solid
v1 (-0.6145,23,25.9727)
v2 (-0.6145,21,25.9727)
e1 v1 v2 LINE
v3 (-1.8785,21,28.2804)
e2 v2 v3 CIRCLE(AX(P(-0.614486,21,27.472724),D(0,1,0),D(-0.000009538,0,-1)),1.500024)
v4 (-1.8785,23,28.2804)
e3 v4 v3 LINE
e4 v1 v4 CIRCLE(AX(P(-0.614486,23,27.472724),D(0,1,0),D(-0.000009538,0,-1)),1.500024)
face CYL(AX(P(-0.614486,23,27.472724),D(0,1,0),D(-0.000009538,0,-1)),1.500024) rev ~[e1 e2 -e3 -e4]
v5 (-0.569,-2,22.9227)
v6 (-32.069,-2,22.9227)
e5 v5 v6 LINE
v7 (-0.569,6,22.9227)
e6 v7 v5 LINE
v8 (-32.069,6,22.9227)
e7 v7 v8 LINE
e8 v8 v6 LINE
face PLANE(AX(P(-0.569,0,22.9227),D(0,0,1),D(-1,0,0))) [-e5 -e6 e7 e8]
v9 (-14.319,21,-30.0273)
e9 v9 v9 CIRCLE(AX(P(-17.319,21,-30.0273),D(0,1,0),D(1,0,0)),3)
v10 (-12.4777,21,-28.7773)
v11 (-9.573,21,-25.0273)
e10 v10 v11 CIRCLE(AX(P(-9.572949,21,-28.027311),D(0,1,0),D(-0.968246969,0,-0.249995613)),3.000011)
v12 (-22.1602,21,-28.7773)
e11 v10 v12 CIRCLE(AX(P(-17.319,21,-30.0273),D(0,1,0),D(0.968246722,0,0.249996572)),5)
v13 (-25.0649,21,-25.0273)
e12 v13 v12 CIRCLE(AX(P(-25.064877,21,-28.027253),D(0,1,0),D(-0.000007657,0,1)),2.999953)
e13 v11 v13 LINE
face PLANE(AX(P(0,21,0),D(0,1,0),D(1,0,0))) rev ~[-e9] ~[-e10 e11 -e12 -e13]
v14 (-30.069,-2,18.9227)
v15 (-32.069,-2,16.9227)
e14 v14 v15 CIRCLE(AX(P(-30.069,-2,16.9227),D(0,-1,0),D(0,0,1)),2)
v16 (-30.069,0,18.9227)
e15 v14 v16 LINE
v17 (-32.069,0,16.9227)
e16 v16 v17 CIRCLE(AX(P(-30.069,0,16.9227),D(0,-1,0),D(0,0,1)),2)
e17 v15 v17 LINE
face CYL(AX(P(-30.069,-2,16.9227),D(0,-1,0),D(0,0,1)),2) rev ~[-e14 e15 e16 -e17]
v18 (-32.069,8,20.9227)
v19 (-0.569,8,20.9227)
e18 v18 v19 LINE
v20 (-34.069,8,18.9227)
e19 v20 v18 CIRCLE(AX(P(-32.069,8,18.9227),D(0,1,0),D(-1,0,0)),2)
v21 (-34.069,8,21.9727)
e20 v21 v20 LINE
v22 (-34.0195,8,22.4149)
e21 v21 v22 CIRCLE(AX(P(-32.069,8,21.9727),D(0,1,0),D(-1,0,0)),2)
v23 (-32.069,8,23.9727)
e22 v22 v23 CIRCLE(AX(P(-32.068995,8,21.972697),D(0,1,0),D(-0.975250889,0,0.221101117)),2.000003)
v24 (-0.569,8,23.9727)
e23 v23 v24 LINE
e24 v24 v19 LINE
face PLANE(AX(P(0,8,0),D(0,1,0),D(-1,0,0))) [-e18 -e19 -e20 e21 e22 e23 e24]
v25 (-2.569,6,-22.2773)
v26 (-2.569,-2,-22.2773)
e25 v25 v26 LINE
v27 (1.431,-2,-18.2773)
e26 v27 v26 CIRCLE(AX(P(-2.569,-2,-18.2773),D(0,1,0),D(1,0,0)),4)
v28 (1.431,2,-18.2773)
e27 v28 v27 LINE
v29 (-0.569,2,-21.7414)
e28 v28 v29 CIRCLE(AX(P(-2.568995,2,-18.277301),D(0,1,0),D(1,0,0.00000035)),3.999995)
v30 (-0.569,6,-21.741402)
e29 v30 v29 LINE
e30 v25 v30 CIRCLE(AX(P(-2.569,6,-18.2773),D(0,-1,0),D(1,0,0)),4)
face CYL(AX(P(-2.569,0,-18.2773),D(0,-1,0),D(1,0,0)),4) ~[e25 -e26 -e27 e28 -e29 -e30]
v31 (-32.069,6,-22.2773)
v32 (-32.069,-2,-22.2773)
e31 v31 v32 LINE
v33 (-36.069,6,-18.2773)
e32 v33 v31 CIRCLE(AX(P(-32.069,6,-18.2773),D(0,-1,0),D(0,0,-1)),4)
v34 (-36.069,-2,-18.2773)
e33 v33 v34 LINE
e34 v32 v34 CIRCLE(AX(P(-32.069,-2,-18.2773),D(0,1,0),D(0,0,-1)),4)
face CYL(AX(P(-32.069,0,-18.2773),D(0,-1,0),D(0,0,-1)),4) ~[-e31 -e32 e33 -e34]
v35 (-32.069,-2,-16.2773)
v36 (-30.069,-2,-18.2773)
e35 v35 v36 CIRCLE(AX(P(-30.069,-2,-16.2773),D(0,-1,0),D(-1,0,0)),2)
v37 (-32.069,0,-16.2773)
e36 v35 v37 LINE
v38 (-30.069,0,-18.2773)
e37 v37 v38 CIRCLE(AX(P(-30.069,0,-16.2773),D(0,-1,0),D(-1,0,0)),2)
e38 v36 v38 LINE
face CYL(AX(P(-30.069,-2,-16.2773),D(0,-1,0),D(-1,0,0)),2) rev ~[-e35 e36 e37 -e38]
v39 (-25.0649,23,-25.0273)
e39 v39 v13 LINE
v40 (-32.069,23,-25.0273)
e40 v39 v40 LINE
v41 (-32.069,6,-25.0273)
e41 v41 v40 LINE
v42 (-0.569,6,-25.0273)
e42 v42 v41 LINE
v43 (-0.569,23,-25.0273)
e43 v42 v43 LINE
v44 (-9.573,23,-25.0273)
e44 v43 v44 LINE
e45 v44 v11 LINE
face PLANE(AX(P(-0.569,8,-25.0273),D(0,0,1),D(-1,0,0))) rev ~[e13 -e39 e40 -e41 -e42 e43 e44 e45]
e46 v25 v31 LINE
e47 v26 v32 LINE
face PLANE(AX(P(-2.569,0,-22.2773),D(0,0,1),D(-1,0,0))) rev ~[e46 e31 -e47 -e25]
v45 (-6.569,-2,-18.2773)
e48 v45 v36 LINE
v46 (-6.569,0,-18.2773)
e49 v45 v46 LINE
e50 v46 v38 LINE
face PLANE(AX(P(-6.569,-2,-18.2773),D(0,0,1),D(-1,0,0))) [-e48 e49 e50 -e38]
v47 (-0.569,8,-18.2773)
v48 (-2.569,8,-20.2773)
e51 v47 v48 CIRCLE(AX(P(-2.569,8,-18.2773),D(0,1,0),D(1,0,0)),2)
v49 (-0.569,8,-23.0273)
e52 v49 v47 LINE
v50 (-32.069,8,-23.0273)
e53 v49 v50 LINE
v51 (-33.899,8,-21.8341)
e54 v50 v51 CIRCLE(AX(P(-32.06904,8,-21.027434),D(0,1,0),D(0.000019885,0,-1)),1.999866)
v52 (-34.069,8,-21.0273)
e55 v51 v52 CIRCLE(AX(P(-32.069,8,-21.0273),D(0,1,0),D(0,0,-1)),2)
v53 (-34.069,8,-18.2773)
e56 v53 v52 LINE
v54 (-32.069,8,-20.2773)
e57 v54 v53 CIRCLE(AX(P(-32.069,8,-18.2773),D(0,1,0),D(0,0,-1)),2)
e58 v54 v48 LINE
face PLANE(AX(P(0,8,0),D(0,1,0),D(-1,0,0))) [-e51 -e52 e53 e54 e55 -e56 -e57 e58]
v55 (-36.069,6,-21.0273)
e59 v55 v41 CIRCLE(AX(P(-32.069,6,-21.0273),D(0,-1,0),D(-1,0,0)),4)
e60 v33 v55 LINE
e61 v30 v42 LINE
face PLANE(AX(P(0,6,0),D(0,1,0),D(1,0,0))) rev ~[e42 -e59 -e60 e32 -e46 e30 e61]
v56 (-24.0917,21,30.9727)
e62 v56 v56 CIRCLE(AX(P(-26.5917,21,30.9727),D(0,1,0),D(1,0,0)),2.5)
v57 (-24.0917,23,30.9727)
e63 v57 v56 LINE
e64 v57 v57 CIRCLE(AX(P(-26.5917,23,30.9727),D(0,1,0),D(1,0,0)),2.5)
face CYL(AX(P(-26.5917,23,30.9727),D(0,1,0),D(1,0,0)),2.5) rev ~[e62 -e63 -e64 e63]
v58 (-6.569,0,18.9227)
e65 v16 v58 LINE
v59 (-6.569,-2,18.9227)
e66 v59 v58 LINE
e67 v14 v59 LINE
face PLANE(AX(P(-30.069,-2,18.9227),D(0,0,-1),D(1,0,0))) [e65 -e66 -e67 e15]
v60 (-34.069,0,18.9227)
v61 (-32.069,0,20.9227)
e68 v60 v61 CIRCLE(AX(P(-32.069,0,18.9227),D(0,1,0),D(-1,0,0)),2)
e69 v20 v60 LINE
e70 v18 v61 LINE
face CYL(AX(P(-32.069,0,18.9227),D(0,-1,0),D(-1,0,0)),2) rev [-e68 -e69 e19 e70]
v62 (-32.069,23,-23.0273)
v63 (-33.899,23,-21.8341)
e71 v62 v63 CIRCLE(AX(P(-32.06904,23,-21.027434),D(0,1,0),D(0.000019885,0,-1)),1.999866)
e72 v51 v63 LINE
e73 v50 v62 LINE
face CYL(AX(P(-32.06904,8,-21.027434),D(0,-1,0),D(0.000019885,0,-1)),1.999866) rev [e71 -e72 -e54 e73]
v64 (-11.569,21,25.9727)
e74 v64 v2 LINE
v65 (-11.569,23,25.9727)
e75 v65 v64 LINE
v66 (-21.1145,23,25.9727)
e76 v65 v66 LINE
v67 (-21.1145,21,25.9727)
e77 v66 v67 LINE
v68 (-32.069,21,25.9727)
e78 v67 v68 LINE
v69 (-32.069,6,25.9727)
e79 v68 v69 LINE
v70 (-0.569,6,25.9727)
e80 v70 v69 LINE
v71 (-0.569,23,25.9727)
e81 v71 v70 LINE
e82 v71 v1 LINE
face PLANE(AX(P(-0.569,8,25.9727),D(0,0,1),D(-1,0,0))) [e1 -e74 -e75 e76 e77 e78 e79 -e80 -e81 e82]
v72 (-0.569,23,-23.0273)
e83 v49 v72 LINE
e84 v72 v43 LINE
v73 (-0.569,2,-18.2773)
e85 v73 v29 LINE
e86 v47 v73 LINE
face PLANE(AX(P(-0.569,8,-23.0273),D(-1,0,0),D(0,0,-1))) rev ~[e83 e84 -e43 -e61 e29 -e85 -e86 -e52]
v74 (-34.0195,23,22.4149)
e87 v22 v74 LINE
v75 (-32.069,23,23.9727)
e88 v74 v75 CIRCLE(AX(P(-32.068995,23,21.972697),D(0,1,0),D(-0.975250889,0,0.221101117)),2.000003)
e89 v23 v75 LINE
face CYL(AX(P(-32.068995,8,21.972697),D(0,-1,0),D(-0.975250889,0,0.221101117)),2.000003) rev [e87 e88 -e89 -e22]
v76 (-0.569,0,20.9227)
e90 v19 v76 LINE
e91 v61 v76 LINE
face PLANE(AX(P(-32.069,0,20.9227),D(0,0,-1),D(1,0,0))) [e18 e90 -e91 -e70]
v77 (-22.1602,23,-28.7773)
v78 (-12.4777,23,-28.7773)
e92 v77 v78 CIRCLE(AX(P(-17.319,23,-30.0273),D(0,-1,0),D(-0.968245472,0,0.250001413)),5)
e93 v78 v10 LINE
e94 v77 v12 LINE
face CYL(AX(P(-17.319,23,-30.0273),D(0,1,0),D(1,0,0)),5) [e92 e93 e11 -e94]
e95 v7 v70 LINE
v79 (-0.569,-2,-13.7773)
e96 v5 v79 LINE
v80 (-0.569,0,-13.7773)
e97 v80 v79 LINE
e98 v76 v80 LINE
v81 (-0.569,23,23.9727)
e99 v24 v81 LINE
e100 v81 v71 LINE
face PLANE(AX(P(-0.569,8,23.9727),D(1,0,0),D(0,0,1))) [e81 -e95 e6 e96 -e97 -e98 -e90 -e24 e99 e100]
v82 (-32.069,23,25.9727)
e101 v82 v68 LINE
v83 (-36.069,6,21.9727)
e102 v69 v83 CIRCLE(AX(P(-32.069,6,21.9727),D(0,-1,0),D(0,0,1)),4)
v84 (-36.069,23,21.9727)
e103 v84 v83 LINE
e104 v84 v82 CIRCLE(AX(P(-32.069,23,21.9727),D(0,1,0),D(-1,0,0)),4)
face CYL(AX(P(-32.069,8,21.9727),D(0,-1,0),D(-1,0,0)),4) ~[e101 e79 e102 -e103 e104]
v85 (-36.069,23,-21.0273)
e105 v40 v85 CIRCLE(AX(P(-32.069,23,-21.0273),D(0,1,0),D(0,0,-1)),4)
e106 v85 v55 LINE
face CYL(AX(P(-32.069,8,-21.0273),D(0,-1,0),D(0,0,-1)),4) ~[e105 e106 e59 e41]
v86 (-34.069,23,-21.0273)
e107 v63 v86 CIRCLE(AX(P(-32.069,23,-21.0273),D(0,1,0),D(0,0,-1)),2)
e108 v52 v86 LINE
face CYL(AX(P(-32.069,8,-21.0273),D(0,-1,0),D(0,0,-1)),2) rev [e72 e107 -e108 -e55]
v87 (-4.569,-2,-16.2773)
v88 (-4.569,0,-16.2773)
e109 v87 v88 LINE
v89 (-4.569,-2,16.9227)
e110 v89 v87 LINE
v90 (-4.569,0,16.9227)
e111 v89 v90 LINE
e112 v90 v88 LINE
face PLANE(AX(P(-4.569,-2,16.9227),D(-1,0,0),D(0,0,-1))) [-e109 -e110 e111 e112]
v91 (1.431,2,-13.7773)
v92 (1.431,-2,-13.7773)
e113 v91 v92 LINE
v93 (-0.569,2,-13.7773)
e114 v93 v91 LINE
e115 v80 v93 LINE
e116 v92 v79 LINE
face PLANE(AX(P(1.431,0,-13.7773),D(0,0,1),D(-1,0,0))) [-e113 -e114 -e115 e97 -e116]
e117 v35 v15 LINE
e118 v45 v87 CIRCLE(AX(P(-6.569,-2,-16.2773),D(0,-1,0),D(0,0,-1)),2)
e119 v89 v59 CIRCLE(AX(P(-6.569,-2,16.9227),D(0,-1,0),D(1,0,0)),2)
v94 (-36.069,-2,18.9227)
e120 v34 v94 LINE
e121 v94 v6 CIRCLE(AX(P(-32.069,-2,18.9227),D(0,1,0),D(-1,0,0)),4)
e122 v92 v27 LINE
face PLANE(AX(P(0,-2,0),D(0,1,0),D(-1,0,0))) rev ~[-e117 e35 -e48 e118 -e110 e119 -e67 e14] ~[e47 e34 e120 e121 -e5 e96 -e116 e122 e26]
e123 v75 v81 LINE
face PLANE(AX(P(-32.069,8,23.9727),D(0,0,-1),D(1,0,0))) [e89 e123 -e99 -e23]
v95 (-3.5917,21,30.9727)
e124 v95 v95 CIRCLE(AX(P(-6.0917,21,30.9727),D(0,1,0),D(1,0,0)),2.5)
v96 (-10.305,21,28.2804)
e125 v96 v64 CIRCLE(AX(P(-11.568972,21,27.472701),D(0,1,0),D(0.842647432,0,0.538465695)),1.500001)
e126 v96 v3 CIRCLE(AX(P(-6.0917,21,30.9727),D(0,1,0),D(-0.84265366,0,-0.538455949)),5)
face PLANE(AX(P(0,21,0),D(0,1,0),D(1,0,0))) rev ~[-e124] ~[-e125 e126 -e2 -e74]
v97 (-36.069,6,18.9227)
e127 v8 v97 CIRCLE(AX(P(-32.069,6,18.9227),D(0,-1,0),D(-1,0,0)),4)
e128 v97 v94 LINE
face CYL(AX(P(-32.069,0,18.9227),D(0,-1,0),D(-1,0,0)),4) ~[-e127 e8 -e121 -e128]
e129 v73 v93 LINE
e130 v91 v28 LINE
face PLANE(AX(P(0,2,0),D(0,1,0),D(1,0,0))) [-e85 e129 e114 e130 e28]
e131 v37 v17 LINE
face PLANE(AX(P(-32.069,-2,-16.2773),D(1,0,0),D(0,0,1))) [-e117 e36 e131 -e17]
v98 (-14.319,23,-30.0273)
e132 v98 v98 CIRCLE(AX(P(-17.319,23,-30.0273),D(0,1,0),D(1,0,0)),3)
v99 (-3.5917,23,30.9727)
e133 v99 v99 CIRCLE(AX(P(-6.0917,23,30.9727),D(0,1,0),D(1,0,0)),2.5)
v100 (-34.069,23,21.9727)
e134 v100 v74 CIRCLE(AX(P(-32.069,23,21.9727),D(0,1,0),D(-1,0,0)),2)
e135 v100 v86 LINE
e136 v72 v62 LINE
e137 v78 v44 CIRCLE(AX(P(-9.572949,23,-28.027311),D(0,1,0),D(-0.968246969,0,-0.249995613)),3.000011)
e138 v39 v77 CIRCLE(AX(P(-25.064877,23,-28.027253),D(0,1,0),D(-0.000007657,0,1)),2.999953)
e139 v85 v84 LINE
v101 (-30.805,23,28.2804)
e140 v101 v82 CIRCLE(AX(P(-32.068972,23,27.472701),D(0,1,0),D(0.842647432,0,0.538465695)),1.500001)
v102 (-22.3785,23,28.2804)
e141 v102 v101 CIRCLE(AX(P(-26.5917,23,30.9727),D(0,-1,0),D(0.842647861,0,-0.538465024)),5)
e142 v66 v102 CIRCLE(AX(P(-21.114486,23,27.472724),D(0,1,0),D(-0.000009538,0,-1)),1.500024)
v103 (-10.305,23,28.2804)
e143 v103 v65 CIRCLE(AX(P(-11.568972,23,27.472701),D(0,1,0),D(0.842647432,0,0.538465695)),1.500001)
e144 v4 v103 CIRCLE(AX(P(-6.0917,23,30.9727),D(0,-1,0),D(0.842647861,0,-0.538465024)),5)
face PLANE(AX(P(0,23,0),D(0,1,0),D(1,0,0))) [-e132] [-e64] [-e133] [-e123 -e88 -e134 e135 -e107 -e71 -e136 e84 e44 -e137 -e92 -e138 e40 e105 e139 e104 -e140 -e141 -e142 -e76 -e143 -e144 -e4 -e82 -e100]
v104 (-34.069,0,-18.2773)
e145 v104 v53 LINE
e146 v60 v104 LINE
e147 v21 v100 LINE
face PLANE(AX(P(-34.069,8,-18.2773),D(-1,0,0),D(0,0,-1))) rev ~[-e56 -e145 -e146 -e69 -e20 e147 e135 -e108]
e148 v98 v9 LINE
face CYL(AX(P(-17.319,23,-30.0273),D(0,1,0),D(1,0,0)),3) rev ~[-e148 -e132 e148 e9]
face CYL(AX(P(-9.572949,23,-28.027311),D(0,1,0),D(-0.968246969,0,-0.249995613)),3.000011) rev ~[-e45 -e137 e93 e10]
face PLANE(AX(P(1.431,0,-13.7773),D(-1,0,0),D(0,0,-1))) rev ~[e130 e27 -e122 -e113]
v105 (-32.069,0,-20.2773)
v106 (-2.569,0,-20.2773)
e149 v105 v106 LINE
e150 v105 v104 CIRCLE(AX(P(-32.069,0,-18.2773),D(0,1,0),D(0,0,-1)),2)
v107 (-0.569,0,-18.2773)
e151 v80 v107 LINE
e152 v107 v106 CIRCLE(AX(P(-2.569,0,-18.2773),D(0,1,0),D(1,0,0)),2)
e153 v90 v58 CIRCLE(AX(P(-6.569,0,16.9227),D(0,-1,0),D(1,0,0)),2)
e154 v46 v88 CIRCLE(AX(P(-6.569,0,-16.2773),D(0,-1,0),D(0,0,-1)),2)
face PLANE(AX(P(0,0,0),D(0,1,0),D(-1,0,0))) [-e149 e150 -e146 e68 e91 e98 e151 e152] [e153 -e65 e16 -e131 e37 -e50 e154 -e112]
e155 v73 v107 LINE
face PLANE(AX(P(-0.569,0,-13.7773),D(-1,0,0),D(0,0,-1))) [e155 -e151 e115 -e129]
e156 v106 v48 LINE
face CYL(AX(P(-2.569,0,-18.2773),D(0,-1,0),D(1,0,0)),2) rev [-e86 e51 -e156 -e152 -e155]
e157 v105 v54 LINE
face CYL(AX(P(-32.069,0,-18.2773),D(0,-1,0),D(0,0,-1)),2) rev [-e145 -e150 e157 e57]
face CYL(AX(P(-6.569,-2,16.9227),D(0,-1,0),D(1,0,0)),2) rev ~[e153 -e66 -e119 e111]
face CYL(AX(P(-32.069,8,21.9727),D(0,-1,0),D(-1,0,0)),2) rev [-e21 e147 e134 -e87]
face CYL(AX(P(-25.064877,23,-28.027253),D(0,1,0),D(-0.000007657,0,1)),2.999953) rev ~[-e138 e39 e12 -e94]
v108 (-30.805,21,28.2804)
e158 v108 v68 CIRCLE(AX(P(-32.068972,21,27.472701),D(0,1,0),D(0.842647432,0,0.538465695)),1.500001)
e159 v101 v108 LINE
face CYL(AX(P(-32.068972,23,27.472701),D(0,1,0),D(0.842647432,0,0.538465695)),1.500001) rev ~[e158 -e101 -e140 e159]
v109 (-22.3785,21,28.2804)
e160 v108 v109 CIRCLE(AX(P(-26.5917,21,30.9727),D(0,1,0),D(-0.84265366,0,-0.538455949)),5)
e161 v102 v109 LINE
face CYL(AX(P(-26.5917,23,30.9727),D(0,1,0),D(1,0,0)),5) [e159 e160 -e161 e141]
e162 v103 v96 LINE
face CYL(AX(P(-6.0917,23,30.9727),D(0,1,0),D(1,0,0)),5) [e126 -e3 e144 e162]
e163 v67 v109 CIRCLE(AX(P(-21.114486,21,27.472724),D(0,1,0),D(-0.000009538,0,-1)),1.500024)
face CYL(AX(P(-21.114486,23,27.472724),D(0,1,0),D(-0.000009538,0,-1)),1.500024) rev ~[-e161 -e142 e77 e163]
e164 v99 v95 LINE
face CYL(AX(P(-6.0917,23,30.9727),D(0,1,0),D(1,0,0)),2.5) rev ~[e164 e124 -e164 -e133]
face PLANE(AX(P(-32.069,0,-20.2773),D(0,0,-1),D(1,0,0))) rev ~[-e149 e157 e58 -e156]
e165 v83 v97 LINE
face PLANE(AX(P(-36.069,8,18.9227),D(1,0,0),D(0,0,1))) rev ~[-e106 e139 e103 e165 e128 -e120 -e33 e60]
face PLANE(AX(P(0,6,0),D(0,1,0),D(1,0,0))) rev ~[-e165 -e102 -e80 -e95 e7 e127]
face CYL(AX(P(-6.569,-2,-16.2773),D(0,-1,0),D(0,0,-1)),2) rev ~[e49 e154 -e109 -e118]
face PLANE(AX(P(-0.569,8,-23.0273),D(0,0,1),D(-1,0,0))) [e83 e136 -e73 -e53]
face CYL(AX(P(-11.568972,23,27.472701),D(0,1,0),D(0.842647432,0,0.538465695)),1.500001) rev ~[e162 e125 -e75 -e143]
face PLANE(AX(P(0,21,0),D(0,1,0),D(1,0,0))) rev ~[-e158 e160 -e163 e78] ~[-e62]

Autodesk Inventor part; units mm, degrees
ref_plane "YZ Plane" through (0, 0, 0) normal (1, 0, 0) x (0, 1, 0)
ref_plane "XZ Plane" through (0, 0, 0) normal (0, 1, 0) x (-1, 0, 0)
sketch "Sketch1" plane through (0, 0, 0) normal (0, 1, 0) x (-1, 0, 0)
  arc A0 (31.569, 13.7227) -> (30.069, 12.2227) centre (31.569, 12.2227) ccw
  line L0 (31.569, 13.7227) -> (34.069, 13.7227)
  line L1 (34.069, 13.7227) -> (34.069, 18.9227)
  line L2 (32.069, 20.9227) -> (0.569, 20.9227)
  line L3 (-1.431, -13.7773) -> (0.569, -13.7773)
  line L4 (0.569, -13.7773) -> (0.569, -18.2773)
  line L5 (34.069, -13.2773) -> (31.569, -13.2773)
  arc A1 (30.069, -11.7773) -> (31.569, -13.2773) centre (31.569, -11.7773) ccw
  arc A2 (34.069, 18.9227) -> (32.069, 20.9227) centre (32.069, 18.9227) ccw
  arc A3 (34.0195, 22.4149) -> (32.069, 23.9727) centre (32.069, 21.9727) ccw
  line L6 (32.069, 23.9727) -> (-23.931, 23.9727)
  arc A4 (-23.931, 23.9727) -> (-25.931, 21.9727) centre (-23.931, 21.9727) ccw
  line L7 (-25.931, 21.9727) -> (-25.931, -21.0273)
  arc A5 (-25.931, -21.0273) -> (-23.931, -23.0273) centre (-23.931, -21.0273) ccw
  line L8 (-23.931, -23.0273) -> (32.069, -23.0273)
  arc A6 (32.069, -23.0273) -> (33.899, -21.8341) centre (32.069, -21.0273) ccw
  arc A7 (32.069, -20.2773) -> (34.069, -18.2773) centre (32.069, -18.2773) ccw
  line L9 (32.069, -20.2773) -> (2.569, -20.2773)
  arc A8 (0.569, -18.2773) -> (2.569, -20.2773) centre (2.569, -18.2773) ccw
  line L10 (34.069, -13.2773) -> (34.069, 13.7227)
  line L11 (0.569, -13.7773) -> (0.569, 20.9227)
  line L12 (30.069, -11.7773) -> (30.069, 12.2227)
  line L13 (0.569, 22.9227) -> (0.569, 20.9227)
  line L14 (34.069, -18.2773) -> (34.069, -13.2773)
  line L15 (0.569, 22.9227) -> (32.069, 22.9227)
  arc A9 (36.069, 18.9227) -> (32.069, 22.9227) centre (32.069, 18.9227) ccw
  line L16 (-1.431, -13.7773) -> (-1.431, -18.2773)
  arc A10 (-1.431, -18.2773) -> (2.569, -22.2773) centre (2.569, -18.2773) ccw
  line L17 (2.569, -22.2773) -> (32.069, -22.2773)
  arc A11 (32.069, -22.2773) -> (36.069, -18.2773) centre (32.069, -18.2773) ccw
  line L18 (36.069, -18.2773) -> (36.069, 18.9227)
  dimension "d8" = 2
  dimension "d9" = 2
extrude "Extrusion3" add sketch "Sketch1" against normal blind 2 contours L0 L10 L5 A1 L12 A0 | A0 L12 A1 L5 L14 A7 L9 A8 L4 L11 L2 A2 L1 L0 | L1 A2 L2 L13 L15 A9 L18 A11 L17 A10 L16 L3 L4 A8 L9 A7 L14 L10
ref_plane "Work Plane1" through (0, 8, 0) normal (0, 1, 0) x (1, 0, 0)
extrude "Extrusion4" add sketch "Sketch1" along normal blind 8 contours L1 A2 L2 L13 L15 A9 L18 A11 L17 A10 L16 L3 L4 A8 L9 A7 L14 L10
sketch "Sketch2" plane through (0, 8, 0) normal (0, 1, 0) x (1, 0, 0)
  line L0 (23.931, 23.0273) -> (-32.069, 23.0273) projected
  arc A0 (-32.069, 23.0273) -> (-33.899, 21.8341) centre (-32.069, 21.0273) ccw projected
  line L1 (-32.069, -23.9727) -> (23.931, -23.9727) projected
  arc A1 (-34.0195, -22.4149) -> (-32.069, -23.9727) centre (-32.069, -21.9727) ccw projected
  line L2 (-36.069, 18.2773) -> (-36.069, -18.9227) projected
  arc A2 (-32.069, 23.0273) -> (-34.069, 21.0273) centre (-32.069, 21.0273) ccw
  arc A3 (-34.069, -21.9727) -> (-32.069, -23.9727) centre (-32.069, -21.9727) ccw
  line L3 (-34.069, 18.2773) -> (-34.069, 13.2773) projected
  line L4 (-34.069, 13.2773) -> (-34.069, -13.7227) projected
  line L5 (-34.069, -13.7227) -> (-34.069, -18.9227) projected
  line L6 (-34.069, -21.9727) -> (-34.069, 21.0273)
  arc A4 (-32.069, 25.0273) -> (-36.069, 21.0273) centre (-32.069, 21.0273) ccw
  line L7 (-36.069, 21.0273) -> (-36.069, -21.9727)
  arc A5 (-36.069, -21.9727) -> (-32.069, -25.9727) centre (-32.069, -21.9727) ccw
  line L8 (-0.569, 25.0273) -> (-32.069, 25.0273)
  arc A6 (-32.069, 25.0273) -> (-35.729, 22.6409) centre (-32.069, 21.0273) ccw
  line L9 (-0.569, -25.9727) -> (-32.069, -25.9727)
  arc A7 (-35.97, -22.8571) -> (-32.069, -25.9727) centre (-32.069, -21.9727) ccw
  line L10 (-0.569, 13.7773) -> (-0.569, -22.9227) projected
  line L11 (-0.569, -23.9727) -> (-0.569, -25.9727)
  line L12 (-0.569, 18.2773) -> (-0.569, 25.0273)
  line L13 (-0.569, 13.7773) -> (-0.569, 18.2773) projected
  line L14 (-32.069, 23.0273) -> (-0.569, 23.0273)
  line L15 (-32.069, -23.9727) -> (-0.569, -23.9727)
  arc A8 (-0.569, 18.2773) -> (-2.569, 20.2773) centre (-2.569, 18.2773) ccw projected
  line L16 (-32.069, -20.9227) -> (-0.569, -20.9227) projected
  line L17 (-0.569, -20.9227) -> (-0.569, 13.7773) projected
  line L18 (-0.569, 13.7773) -> (-0.569, 18.2773) projected
  arc A9 (-0.569, 18.2773) -> (-2.569, 20.2773) centre (-2.569, 18.2773) ccw projected
  line L19 (-2.569, 20.2773) -> (-32.069, 20.2773) projected
  arc A10 (-32.069, 20.2773) -> (-34.069, 18.2773) centre (-32.069, 18.2773) ccw projected
  line L20 (-34.069, 18.2773) -> (-34.069, -18.9227) projected
  arc A11 (-34.069, -18.9227) -> (-32.069, -20.9227) centre (-32.069, -18.9227) ccw projected
  line L21 (-0.569, -23.9727) -> (-0.569, -22.9227)
  line L22 (-32.069, 22.2773) -> (-2.569, 22.2773) projected
  line L23 (-2.569, 22.2773) -> (-0.569, 22.2773)
  arc A12 (1.431, 18.2773) -> (-2.569, 22.2773) centre (-2.569, 18.2773) ccw projected
  point P0 (0, 0)
  point P1 (-0.569, 21.7414)
  dimension "d18" = 2
  dimension "d19" = 2
  dimension "d20" = 2
  dimension "d21" = 31.5
  dimension "d22" = 31.5
  dimension "d23" = 31.5
sketch "Sketch3" plane through (0, 8, 0) normal (0, 1, 0) x (1, 0, 0)
  line L0 (-0.569, 18.2773) -> (-0.569, 13.7773) projected
  line L1 (-0.569, 13.7773) -> (1.431, 13.7773) projected
  line L2 (1.431, 13.7773) -> (1.431, 18.2773) projected
  arc A0 (1.431, 18.2773) -> (-2.569, 22.2773) centre (-2.569, 18.2773) ccw projected
  line L3 (-0.569, -20.9227) -> (-32.069, -20.9227) projected
  arc A1 (-34.069, -18.9227) -> (-32.069, -20.9227) centre (-32.069, -18.9227) ccw projected
  line L4 (-34.069, -18.9227) -> (-34.069, 18.2773) projected
  arc A2 (-32.069, 20.2773) -> (-34.069, 18.2773) centre (-32.069, 18.2773) ccw projected
  line L5 (-32.069, 20.2773) -> (-2.569, 20.2773) projected
  arc A3 (-0.569, 18.2773) -> (-2.569, 20.2773) centre (-2.569, 18.2773) ccw projected
  arc A4 (-32.069, 22.2773) -> (-36.069, 18.2773) centre (-32.069, 18.2773) ccw projected
  line L6 (-36.069, 18.2773) -> (-36.069, -18.9227) projected
  arc A5 (-36.069, -18.9227) -> (-32.069, -22.9227) centre (-32.069, -18.9227) ccw projected
  line L7 (-32.069, -22.9227) -> (-0.569, -22.9227) projected
  line L8 (-0.569, -22.9227) -> (-0.569, -20.9227) projected
  line L9 (-2.569, 22.2773) -> (-32.069, 22.2773) projected
  point P0 (0, 0)
extrude "Extrusion7" add sketch "Sketch2" against normal blind 2 contours L12 L23 A12 A8 L19 A10 L6 A2 A0 L0 | L0 A0 A2 L6 L3 L4 L5 A3 A1 L1 L11 L9 A5 L7 L2 A4 L8 L12 | L12 A12 L23 | L10 L21 L1 A1 A3 L6 A11 L16
extrude "Extrusion8" add sketch "Sketch2" along normal blind 15 contours L0 A0 A2 L6 L3 L4 L5 A3 A1 L1 L11 L9 A5 L7 L2 A4 L8 L12
sketch "Sketch4" plane through (0, 8, 0) normal (0, 1, 0) x (1, 0, 0)
  line L0 (1.431, 13.7773) -> (1.431, 18.2773) projected
  line L1 (-0.569, 13.7773) -> (1.431, 13.7773) projected
  line L2 (-0.569, 18.2773) -> (-0.569, 25.0273) projected
  line L3 (-0.569, 18.2773) -> (-0.569, 13.7773) projected
  arc A0 (1.431, 18.2773) -> (-0.569, 21.7414) centre (-2.569, 18.2773) ccw projected
  point P0 (0, 0)
extrude "Extrusion9" cut sketch "Sketch4" against normal blind 6
sketch "Sketch5" plane through (0, 23, 0) normal (0, 1, 0) x (1, 0, 0)
  circle A0 centre (-17.319, 30.0273) radius 5
  circle A1 centre (-17.319, 30.0273) radius 3
  line L0 (-0.569, 25.0273) -> (-32.069, 25.0273) projected
  arc A2 (-12.4777, 28.7773) -> (-9.573, 25.0273) centre (-9.573, 28.0273) ccw
  arc A3 (-25.0649, 25.0273) -> (-22.1602, 28.7773) centre (-25.0649, 28.0273) ccw
  line L1 (-0.569, 23.0273) -> (-0.569, 25.0273) projected
  line L2 (-34.069, -21.9727) -> (-34.069, 21.0273) projected
  circle A4 centre (-6.0917, -30.9727) radius 5
  circle A5 centre (-6.0917, -30.9727) radius 2.5
  arc A6 (-10.305, -28.2804) -> (-11.569, -25.9727) centre (-11.569, -27.4727) ccw
  arc A7 (-0.6145, -25.9727) -> (-1.8785, -28.2804) centre (-0.6145, -27.4727) ccw
  line L3 (-32.069, -25.9727) -> (-0.569, -25.9727) projected
  circle A8 centre (-26.5917, -30.9727) radius 5
  circle A9 centre (-26.5917, -30.9727) radius 2.5
  arc A10 (-30.805, -28.2804) -> (-32.069, -25.9727) centre (-32.069, -27.4727) ccw
  arc A11 (-21.1145, -25.9727) -> (-22.3785, -28.2804) centre (-21.1145, -27.4727) ccw
  line L4 (-0.569, -25.9727) -> (-0.569, -23.9727) projected
  arc A12 (-36.069, -21.9727) -> (-32.069, -25.9727) centre (-32.069, -21.9727) ccw projected
  point P0 (0, 0)
  point P1 (1.0185, -24.3852)
  dimension "d34" = 10
  dimension "d35" = 6
  dimension "d36" = 33.5
  dimension "d37" = 16.75
  dimension "d38" = 3
  dimension "d39" = 3
  dimension "d40" = 10
  dimension "d41" = 5
  dimension "d42" = 3
  dimension "d43" = 3
  dimension "d44" = 10
  dimension "d45" = 5
  dimension "d46" = 3
  dimension "d47" = 3
  dimension "d49" = 20.5
extrude "Extrusion10" add sketch "Sketch5" against normal blind 2
sketch "Sketch6" plane through (0, -2, 0) normal (0, -1, 0) x (1, 0, 0)
  line L0 (1.431, -18.2773) -> (1.431, -13.7773) projected
  line L1 (1.431, -13.7773) -> (-0.569, -13.7773) projected
  line L2 (-0.569, -13.7773) -> (-0.569, 22.9227) projected
  line L3 (-0.569, 22.9227) -> (-32.069, 22.9227) projected
  arc A0 (-32.069, 22.9227) -> (-36.069, 18.9227) centre (-32.069, 18.9227) ccw projected
  line L4 (-36.069, 18.9227) -> (-36.069, -18.2773) projected
  arc A1 (-36.069, -18.2773) -> (-32.069, -22.2773) centre (-32.069, -18.2773) ccw projected
  line L5 (-32.069, -22.2773) -> (-2.569, -22.2773) projected
  arc A2 (-2.569, -22.2773) -> (1.431, -18.2773) centre (-2.569, -18.2773) ccw projected
  line L6 (-30.069, 18.9227) -> (-6.569, 18.9227)
  line L7 (-4.569, 16.9227) -> (-4.569, -16.2773)
  line L8 (-6.569, -18.2773) -> (-30.069, -18.2773)
  line L9 (-32.069, -16.2773) -> (-32.069, 16.9227)
  arc A3 (-6.569, -18.2773) -> (-4.569, -16.2773) centre (-6.569, -16.2773) ccw
  arc A4 (-32.069, -16.2773) -> (-30.069, -18.2773) centre (-30.069, -16.2773) ccw
  arc A5 (-30.069, 18.9227) -> (-32.069, 16.9227) centre (-30.069, 16.9227) ccw
  arc A6 (-4.569, 16.9227) -> (-6.569, 18.9227) centre (-6.569, 16.9227) ccw
  point P0 (0, 0)
  point P1 (-4.569, 18.9227)
  point P2 (-4.569, -18.2773)
  dimension "d52" = 4
  dimension "d53" = 37.2
  dimension "d54" = 27.5
  dimension "d55" = 4
  dimension "d56" = 2
extrude "Extrusion11" cut sketch "Sketch6" against normal blind 2 contours L6 A6 L7 A3 L8 A4 L9 A5
equation "\"d37\" = 0.5 * d36"
properties part number "CO-1-01-motorControllersMount"
